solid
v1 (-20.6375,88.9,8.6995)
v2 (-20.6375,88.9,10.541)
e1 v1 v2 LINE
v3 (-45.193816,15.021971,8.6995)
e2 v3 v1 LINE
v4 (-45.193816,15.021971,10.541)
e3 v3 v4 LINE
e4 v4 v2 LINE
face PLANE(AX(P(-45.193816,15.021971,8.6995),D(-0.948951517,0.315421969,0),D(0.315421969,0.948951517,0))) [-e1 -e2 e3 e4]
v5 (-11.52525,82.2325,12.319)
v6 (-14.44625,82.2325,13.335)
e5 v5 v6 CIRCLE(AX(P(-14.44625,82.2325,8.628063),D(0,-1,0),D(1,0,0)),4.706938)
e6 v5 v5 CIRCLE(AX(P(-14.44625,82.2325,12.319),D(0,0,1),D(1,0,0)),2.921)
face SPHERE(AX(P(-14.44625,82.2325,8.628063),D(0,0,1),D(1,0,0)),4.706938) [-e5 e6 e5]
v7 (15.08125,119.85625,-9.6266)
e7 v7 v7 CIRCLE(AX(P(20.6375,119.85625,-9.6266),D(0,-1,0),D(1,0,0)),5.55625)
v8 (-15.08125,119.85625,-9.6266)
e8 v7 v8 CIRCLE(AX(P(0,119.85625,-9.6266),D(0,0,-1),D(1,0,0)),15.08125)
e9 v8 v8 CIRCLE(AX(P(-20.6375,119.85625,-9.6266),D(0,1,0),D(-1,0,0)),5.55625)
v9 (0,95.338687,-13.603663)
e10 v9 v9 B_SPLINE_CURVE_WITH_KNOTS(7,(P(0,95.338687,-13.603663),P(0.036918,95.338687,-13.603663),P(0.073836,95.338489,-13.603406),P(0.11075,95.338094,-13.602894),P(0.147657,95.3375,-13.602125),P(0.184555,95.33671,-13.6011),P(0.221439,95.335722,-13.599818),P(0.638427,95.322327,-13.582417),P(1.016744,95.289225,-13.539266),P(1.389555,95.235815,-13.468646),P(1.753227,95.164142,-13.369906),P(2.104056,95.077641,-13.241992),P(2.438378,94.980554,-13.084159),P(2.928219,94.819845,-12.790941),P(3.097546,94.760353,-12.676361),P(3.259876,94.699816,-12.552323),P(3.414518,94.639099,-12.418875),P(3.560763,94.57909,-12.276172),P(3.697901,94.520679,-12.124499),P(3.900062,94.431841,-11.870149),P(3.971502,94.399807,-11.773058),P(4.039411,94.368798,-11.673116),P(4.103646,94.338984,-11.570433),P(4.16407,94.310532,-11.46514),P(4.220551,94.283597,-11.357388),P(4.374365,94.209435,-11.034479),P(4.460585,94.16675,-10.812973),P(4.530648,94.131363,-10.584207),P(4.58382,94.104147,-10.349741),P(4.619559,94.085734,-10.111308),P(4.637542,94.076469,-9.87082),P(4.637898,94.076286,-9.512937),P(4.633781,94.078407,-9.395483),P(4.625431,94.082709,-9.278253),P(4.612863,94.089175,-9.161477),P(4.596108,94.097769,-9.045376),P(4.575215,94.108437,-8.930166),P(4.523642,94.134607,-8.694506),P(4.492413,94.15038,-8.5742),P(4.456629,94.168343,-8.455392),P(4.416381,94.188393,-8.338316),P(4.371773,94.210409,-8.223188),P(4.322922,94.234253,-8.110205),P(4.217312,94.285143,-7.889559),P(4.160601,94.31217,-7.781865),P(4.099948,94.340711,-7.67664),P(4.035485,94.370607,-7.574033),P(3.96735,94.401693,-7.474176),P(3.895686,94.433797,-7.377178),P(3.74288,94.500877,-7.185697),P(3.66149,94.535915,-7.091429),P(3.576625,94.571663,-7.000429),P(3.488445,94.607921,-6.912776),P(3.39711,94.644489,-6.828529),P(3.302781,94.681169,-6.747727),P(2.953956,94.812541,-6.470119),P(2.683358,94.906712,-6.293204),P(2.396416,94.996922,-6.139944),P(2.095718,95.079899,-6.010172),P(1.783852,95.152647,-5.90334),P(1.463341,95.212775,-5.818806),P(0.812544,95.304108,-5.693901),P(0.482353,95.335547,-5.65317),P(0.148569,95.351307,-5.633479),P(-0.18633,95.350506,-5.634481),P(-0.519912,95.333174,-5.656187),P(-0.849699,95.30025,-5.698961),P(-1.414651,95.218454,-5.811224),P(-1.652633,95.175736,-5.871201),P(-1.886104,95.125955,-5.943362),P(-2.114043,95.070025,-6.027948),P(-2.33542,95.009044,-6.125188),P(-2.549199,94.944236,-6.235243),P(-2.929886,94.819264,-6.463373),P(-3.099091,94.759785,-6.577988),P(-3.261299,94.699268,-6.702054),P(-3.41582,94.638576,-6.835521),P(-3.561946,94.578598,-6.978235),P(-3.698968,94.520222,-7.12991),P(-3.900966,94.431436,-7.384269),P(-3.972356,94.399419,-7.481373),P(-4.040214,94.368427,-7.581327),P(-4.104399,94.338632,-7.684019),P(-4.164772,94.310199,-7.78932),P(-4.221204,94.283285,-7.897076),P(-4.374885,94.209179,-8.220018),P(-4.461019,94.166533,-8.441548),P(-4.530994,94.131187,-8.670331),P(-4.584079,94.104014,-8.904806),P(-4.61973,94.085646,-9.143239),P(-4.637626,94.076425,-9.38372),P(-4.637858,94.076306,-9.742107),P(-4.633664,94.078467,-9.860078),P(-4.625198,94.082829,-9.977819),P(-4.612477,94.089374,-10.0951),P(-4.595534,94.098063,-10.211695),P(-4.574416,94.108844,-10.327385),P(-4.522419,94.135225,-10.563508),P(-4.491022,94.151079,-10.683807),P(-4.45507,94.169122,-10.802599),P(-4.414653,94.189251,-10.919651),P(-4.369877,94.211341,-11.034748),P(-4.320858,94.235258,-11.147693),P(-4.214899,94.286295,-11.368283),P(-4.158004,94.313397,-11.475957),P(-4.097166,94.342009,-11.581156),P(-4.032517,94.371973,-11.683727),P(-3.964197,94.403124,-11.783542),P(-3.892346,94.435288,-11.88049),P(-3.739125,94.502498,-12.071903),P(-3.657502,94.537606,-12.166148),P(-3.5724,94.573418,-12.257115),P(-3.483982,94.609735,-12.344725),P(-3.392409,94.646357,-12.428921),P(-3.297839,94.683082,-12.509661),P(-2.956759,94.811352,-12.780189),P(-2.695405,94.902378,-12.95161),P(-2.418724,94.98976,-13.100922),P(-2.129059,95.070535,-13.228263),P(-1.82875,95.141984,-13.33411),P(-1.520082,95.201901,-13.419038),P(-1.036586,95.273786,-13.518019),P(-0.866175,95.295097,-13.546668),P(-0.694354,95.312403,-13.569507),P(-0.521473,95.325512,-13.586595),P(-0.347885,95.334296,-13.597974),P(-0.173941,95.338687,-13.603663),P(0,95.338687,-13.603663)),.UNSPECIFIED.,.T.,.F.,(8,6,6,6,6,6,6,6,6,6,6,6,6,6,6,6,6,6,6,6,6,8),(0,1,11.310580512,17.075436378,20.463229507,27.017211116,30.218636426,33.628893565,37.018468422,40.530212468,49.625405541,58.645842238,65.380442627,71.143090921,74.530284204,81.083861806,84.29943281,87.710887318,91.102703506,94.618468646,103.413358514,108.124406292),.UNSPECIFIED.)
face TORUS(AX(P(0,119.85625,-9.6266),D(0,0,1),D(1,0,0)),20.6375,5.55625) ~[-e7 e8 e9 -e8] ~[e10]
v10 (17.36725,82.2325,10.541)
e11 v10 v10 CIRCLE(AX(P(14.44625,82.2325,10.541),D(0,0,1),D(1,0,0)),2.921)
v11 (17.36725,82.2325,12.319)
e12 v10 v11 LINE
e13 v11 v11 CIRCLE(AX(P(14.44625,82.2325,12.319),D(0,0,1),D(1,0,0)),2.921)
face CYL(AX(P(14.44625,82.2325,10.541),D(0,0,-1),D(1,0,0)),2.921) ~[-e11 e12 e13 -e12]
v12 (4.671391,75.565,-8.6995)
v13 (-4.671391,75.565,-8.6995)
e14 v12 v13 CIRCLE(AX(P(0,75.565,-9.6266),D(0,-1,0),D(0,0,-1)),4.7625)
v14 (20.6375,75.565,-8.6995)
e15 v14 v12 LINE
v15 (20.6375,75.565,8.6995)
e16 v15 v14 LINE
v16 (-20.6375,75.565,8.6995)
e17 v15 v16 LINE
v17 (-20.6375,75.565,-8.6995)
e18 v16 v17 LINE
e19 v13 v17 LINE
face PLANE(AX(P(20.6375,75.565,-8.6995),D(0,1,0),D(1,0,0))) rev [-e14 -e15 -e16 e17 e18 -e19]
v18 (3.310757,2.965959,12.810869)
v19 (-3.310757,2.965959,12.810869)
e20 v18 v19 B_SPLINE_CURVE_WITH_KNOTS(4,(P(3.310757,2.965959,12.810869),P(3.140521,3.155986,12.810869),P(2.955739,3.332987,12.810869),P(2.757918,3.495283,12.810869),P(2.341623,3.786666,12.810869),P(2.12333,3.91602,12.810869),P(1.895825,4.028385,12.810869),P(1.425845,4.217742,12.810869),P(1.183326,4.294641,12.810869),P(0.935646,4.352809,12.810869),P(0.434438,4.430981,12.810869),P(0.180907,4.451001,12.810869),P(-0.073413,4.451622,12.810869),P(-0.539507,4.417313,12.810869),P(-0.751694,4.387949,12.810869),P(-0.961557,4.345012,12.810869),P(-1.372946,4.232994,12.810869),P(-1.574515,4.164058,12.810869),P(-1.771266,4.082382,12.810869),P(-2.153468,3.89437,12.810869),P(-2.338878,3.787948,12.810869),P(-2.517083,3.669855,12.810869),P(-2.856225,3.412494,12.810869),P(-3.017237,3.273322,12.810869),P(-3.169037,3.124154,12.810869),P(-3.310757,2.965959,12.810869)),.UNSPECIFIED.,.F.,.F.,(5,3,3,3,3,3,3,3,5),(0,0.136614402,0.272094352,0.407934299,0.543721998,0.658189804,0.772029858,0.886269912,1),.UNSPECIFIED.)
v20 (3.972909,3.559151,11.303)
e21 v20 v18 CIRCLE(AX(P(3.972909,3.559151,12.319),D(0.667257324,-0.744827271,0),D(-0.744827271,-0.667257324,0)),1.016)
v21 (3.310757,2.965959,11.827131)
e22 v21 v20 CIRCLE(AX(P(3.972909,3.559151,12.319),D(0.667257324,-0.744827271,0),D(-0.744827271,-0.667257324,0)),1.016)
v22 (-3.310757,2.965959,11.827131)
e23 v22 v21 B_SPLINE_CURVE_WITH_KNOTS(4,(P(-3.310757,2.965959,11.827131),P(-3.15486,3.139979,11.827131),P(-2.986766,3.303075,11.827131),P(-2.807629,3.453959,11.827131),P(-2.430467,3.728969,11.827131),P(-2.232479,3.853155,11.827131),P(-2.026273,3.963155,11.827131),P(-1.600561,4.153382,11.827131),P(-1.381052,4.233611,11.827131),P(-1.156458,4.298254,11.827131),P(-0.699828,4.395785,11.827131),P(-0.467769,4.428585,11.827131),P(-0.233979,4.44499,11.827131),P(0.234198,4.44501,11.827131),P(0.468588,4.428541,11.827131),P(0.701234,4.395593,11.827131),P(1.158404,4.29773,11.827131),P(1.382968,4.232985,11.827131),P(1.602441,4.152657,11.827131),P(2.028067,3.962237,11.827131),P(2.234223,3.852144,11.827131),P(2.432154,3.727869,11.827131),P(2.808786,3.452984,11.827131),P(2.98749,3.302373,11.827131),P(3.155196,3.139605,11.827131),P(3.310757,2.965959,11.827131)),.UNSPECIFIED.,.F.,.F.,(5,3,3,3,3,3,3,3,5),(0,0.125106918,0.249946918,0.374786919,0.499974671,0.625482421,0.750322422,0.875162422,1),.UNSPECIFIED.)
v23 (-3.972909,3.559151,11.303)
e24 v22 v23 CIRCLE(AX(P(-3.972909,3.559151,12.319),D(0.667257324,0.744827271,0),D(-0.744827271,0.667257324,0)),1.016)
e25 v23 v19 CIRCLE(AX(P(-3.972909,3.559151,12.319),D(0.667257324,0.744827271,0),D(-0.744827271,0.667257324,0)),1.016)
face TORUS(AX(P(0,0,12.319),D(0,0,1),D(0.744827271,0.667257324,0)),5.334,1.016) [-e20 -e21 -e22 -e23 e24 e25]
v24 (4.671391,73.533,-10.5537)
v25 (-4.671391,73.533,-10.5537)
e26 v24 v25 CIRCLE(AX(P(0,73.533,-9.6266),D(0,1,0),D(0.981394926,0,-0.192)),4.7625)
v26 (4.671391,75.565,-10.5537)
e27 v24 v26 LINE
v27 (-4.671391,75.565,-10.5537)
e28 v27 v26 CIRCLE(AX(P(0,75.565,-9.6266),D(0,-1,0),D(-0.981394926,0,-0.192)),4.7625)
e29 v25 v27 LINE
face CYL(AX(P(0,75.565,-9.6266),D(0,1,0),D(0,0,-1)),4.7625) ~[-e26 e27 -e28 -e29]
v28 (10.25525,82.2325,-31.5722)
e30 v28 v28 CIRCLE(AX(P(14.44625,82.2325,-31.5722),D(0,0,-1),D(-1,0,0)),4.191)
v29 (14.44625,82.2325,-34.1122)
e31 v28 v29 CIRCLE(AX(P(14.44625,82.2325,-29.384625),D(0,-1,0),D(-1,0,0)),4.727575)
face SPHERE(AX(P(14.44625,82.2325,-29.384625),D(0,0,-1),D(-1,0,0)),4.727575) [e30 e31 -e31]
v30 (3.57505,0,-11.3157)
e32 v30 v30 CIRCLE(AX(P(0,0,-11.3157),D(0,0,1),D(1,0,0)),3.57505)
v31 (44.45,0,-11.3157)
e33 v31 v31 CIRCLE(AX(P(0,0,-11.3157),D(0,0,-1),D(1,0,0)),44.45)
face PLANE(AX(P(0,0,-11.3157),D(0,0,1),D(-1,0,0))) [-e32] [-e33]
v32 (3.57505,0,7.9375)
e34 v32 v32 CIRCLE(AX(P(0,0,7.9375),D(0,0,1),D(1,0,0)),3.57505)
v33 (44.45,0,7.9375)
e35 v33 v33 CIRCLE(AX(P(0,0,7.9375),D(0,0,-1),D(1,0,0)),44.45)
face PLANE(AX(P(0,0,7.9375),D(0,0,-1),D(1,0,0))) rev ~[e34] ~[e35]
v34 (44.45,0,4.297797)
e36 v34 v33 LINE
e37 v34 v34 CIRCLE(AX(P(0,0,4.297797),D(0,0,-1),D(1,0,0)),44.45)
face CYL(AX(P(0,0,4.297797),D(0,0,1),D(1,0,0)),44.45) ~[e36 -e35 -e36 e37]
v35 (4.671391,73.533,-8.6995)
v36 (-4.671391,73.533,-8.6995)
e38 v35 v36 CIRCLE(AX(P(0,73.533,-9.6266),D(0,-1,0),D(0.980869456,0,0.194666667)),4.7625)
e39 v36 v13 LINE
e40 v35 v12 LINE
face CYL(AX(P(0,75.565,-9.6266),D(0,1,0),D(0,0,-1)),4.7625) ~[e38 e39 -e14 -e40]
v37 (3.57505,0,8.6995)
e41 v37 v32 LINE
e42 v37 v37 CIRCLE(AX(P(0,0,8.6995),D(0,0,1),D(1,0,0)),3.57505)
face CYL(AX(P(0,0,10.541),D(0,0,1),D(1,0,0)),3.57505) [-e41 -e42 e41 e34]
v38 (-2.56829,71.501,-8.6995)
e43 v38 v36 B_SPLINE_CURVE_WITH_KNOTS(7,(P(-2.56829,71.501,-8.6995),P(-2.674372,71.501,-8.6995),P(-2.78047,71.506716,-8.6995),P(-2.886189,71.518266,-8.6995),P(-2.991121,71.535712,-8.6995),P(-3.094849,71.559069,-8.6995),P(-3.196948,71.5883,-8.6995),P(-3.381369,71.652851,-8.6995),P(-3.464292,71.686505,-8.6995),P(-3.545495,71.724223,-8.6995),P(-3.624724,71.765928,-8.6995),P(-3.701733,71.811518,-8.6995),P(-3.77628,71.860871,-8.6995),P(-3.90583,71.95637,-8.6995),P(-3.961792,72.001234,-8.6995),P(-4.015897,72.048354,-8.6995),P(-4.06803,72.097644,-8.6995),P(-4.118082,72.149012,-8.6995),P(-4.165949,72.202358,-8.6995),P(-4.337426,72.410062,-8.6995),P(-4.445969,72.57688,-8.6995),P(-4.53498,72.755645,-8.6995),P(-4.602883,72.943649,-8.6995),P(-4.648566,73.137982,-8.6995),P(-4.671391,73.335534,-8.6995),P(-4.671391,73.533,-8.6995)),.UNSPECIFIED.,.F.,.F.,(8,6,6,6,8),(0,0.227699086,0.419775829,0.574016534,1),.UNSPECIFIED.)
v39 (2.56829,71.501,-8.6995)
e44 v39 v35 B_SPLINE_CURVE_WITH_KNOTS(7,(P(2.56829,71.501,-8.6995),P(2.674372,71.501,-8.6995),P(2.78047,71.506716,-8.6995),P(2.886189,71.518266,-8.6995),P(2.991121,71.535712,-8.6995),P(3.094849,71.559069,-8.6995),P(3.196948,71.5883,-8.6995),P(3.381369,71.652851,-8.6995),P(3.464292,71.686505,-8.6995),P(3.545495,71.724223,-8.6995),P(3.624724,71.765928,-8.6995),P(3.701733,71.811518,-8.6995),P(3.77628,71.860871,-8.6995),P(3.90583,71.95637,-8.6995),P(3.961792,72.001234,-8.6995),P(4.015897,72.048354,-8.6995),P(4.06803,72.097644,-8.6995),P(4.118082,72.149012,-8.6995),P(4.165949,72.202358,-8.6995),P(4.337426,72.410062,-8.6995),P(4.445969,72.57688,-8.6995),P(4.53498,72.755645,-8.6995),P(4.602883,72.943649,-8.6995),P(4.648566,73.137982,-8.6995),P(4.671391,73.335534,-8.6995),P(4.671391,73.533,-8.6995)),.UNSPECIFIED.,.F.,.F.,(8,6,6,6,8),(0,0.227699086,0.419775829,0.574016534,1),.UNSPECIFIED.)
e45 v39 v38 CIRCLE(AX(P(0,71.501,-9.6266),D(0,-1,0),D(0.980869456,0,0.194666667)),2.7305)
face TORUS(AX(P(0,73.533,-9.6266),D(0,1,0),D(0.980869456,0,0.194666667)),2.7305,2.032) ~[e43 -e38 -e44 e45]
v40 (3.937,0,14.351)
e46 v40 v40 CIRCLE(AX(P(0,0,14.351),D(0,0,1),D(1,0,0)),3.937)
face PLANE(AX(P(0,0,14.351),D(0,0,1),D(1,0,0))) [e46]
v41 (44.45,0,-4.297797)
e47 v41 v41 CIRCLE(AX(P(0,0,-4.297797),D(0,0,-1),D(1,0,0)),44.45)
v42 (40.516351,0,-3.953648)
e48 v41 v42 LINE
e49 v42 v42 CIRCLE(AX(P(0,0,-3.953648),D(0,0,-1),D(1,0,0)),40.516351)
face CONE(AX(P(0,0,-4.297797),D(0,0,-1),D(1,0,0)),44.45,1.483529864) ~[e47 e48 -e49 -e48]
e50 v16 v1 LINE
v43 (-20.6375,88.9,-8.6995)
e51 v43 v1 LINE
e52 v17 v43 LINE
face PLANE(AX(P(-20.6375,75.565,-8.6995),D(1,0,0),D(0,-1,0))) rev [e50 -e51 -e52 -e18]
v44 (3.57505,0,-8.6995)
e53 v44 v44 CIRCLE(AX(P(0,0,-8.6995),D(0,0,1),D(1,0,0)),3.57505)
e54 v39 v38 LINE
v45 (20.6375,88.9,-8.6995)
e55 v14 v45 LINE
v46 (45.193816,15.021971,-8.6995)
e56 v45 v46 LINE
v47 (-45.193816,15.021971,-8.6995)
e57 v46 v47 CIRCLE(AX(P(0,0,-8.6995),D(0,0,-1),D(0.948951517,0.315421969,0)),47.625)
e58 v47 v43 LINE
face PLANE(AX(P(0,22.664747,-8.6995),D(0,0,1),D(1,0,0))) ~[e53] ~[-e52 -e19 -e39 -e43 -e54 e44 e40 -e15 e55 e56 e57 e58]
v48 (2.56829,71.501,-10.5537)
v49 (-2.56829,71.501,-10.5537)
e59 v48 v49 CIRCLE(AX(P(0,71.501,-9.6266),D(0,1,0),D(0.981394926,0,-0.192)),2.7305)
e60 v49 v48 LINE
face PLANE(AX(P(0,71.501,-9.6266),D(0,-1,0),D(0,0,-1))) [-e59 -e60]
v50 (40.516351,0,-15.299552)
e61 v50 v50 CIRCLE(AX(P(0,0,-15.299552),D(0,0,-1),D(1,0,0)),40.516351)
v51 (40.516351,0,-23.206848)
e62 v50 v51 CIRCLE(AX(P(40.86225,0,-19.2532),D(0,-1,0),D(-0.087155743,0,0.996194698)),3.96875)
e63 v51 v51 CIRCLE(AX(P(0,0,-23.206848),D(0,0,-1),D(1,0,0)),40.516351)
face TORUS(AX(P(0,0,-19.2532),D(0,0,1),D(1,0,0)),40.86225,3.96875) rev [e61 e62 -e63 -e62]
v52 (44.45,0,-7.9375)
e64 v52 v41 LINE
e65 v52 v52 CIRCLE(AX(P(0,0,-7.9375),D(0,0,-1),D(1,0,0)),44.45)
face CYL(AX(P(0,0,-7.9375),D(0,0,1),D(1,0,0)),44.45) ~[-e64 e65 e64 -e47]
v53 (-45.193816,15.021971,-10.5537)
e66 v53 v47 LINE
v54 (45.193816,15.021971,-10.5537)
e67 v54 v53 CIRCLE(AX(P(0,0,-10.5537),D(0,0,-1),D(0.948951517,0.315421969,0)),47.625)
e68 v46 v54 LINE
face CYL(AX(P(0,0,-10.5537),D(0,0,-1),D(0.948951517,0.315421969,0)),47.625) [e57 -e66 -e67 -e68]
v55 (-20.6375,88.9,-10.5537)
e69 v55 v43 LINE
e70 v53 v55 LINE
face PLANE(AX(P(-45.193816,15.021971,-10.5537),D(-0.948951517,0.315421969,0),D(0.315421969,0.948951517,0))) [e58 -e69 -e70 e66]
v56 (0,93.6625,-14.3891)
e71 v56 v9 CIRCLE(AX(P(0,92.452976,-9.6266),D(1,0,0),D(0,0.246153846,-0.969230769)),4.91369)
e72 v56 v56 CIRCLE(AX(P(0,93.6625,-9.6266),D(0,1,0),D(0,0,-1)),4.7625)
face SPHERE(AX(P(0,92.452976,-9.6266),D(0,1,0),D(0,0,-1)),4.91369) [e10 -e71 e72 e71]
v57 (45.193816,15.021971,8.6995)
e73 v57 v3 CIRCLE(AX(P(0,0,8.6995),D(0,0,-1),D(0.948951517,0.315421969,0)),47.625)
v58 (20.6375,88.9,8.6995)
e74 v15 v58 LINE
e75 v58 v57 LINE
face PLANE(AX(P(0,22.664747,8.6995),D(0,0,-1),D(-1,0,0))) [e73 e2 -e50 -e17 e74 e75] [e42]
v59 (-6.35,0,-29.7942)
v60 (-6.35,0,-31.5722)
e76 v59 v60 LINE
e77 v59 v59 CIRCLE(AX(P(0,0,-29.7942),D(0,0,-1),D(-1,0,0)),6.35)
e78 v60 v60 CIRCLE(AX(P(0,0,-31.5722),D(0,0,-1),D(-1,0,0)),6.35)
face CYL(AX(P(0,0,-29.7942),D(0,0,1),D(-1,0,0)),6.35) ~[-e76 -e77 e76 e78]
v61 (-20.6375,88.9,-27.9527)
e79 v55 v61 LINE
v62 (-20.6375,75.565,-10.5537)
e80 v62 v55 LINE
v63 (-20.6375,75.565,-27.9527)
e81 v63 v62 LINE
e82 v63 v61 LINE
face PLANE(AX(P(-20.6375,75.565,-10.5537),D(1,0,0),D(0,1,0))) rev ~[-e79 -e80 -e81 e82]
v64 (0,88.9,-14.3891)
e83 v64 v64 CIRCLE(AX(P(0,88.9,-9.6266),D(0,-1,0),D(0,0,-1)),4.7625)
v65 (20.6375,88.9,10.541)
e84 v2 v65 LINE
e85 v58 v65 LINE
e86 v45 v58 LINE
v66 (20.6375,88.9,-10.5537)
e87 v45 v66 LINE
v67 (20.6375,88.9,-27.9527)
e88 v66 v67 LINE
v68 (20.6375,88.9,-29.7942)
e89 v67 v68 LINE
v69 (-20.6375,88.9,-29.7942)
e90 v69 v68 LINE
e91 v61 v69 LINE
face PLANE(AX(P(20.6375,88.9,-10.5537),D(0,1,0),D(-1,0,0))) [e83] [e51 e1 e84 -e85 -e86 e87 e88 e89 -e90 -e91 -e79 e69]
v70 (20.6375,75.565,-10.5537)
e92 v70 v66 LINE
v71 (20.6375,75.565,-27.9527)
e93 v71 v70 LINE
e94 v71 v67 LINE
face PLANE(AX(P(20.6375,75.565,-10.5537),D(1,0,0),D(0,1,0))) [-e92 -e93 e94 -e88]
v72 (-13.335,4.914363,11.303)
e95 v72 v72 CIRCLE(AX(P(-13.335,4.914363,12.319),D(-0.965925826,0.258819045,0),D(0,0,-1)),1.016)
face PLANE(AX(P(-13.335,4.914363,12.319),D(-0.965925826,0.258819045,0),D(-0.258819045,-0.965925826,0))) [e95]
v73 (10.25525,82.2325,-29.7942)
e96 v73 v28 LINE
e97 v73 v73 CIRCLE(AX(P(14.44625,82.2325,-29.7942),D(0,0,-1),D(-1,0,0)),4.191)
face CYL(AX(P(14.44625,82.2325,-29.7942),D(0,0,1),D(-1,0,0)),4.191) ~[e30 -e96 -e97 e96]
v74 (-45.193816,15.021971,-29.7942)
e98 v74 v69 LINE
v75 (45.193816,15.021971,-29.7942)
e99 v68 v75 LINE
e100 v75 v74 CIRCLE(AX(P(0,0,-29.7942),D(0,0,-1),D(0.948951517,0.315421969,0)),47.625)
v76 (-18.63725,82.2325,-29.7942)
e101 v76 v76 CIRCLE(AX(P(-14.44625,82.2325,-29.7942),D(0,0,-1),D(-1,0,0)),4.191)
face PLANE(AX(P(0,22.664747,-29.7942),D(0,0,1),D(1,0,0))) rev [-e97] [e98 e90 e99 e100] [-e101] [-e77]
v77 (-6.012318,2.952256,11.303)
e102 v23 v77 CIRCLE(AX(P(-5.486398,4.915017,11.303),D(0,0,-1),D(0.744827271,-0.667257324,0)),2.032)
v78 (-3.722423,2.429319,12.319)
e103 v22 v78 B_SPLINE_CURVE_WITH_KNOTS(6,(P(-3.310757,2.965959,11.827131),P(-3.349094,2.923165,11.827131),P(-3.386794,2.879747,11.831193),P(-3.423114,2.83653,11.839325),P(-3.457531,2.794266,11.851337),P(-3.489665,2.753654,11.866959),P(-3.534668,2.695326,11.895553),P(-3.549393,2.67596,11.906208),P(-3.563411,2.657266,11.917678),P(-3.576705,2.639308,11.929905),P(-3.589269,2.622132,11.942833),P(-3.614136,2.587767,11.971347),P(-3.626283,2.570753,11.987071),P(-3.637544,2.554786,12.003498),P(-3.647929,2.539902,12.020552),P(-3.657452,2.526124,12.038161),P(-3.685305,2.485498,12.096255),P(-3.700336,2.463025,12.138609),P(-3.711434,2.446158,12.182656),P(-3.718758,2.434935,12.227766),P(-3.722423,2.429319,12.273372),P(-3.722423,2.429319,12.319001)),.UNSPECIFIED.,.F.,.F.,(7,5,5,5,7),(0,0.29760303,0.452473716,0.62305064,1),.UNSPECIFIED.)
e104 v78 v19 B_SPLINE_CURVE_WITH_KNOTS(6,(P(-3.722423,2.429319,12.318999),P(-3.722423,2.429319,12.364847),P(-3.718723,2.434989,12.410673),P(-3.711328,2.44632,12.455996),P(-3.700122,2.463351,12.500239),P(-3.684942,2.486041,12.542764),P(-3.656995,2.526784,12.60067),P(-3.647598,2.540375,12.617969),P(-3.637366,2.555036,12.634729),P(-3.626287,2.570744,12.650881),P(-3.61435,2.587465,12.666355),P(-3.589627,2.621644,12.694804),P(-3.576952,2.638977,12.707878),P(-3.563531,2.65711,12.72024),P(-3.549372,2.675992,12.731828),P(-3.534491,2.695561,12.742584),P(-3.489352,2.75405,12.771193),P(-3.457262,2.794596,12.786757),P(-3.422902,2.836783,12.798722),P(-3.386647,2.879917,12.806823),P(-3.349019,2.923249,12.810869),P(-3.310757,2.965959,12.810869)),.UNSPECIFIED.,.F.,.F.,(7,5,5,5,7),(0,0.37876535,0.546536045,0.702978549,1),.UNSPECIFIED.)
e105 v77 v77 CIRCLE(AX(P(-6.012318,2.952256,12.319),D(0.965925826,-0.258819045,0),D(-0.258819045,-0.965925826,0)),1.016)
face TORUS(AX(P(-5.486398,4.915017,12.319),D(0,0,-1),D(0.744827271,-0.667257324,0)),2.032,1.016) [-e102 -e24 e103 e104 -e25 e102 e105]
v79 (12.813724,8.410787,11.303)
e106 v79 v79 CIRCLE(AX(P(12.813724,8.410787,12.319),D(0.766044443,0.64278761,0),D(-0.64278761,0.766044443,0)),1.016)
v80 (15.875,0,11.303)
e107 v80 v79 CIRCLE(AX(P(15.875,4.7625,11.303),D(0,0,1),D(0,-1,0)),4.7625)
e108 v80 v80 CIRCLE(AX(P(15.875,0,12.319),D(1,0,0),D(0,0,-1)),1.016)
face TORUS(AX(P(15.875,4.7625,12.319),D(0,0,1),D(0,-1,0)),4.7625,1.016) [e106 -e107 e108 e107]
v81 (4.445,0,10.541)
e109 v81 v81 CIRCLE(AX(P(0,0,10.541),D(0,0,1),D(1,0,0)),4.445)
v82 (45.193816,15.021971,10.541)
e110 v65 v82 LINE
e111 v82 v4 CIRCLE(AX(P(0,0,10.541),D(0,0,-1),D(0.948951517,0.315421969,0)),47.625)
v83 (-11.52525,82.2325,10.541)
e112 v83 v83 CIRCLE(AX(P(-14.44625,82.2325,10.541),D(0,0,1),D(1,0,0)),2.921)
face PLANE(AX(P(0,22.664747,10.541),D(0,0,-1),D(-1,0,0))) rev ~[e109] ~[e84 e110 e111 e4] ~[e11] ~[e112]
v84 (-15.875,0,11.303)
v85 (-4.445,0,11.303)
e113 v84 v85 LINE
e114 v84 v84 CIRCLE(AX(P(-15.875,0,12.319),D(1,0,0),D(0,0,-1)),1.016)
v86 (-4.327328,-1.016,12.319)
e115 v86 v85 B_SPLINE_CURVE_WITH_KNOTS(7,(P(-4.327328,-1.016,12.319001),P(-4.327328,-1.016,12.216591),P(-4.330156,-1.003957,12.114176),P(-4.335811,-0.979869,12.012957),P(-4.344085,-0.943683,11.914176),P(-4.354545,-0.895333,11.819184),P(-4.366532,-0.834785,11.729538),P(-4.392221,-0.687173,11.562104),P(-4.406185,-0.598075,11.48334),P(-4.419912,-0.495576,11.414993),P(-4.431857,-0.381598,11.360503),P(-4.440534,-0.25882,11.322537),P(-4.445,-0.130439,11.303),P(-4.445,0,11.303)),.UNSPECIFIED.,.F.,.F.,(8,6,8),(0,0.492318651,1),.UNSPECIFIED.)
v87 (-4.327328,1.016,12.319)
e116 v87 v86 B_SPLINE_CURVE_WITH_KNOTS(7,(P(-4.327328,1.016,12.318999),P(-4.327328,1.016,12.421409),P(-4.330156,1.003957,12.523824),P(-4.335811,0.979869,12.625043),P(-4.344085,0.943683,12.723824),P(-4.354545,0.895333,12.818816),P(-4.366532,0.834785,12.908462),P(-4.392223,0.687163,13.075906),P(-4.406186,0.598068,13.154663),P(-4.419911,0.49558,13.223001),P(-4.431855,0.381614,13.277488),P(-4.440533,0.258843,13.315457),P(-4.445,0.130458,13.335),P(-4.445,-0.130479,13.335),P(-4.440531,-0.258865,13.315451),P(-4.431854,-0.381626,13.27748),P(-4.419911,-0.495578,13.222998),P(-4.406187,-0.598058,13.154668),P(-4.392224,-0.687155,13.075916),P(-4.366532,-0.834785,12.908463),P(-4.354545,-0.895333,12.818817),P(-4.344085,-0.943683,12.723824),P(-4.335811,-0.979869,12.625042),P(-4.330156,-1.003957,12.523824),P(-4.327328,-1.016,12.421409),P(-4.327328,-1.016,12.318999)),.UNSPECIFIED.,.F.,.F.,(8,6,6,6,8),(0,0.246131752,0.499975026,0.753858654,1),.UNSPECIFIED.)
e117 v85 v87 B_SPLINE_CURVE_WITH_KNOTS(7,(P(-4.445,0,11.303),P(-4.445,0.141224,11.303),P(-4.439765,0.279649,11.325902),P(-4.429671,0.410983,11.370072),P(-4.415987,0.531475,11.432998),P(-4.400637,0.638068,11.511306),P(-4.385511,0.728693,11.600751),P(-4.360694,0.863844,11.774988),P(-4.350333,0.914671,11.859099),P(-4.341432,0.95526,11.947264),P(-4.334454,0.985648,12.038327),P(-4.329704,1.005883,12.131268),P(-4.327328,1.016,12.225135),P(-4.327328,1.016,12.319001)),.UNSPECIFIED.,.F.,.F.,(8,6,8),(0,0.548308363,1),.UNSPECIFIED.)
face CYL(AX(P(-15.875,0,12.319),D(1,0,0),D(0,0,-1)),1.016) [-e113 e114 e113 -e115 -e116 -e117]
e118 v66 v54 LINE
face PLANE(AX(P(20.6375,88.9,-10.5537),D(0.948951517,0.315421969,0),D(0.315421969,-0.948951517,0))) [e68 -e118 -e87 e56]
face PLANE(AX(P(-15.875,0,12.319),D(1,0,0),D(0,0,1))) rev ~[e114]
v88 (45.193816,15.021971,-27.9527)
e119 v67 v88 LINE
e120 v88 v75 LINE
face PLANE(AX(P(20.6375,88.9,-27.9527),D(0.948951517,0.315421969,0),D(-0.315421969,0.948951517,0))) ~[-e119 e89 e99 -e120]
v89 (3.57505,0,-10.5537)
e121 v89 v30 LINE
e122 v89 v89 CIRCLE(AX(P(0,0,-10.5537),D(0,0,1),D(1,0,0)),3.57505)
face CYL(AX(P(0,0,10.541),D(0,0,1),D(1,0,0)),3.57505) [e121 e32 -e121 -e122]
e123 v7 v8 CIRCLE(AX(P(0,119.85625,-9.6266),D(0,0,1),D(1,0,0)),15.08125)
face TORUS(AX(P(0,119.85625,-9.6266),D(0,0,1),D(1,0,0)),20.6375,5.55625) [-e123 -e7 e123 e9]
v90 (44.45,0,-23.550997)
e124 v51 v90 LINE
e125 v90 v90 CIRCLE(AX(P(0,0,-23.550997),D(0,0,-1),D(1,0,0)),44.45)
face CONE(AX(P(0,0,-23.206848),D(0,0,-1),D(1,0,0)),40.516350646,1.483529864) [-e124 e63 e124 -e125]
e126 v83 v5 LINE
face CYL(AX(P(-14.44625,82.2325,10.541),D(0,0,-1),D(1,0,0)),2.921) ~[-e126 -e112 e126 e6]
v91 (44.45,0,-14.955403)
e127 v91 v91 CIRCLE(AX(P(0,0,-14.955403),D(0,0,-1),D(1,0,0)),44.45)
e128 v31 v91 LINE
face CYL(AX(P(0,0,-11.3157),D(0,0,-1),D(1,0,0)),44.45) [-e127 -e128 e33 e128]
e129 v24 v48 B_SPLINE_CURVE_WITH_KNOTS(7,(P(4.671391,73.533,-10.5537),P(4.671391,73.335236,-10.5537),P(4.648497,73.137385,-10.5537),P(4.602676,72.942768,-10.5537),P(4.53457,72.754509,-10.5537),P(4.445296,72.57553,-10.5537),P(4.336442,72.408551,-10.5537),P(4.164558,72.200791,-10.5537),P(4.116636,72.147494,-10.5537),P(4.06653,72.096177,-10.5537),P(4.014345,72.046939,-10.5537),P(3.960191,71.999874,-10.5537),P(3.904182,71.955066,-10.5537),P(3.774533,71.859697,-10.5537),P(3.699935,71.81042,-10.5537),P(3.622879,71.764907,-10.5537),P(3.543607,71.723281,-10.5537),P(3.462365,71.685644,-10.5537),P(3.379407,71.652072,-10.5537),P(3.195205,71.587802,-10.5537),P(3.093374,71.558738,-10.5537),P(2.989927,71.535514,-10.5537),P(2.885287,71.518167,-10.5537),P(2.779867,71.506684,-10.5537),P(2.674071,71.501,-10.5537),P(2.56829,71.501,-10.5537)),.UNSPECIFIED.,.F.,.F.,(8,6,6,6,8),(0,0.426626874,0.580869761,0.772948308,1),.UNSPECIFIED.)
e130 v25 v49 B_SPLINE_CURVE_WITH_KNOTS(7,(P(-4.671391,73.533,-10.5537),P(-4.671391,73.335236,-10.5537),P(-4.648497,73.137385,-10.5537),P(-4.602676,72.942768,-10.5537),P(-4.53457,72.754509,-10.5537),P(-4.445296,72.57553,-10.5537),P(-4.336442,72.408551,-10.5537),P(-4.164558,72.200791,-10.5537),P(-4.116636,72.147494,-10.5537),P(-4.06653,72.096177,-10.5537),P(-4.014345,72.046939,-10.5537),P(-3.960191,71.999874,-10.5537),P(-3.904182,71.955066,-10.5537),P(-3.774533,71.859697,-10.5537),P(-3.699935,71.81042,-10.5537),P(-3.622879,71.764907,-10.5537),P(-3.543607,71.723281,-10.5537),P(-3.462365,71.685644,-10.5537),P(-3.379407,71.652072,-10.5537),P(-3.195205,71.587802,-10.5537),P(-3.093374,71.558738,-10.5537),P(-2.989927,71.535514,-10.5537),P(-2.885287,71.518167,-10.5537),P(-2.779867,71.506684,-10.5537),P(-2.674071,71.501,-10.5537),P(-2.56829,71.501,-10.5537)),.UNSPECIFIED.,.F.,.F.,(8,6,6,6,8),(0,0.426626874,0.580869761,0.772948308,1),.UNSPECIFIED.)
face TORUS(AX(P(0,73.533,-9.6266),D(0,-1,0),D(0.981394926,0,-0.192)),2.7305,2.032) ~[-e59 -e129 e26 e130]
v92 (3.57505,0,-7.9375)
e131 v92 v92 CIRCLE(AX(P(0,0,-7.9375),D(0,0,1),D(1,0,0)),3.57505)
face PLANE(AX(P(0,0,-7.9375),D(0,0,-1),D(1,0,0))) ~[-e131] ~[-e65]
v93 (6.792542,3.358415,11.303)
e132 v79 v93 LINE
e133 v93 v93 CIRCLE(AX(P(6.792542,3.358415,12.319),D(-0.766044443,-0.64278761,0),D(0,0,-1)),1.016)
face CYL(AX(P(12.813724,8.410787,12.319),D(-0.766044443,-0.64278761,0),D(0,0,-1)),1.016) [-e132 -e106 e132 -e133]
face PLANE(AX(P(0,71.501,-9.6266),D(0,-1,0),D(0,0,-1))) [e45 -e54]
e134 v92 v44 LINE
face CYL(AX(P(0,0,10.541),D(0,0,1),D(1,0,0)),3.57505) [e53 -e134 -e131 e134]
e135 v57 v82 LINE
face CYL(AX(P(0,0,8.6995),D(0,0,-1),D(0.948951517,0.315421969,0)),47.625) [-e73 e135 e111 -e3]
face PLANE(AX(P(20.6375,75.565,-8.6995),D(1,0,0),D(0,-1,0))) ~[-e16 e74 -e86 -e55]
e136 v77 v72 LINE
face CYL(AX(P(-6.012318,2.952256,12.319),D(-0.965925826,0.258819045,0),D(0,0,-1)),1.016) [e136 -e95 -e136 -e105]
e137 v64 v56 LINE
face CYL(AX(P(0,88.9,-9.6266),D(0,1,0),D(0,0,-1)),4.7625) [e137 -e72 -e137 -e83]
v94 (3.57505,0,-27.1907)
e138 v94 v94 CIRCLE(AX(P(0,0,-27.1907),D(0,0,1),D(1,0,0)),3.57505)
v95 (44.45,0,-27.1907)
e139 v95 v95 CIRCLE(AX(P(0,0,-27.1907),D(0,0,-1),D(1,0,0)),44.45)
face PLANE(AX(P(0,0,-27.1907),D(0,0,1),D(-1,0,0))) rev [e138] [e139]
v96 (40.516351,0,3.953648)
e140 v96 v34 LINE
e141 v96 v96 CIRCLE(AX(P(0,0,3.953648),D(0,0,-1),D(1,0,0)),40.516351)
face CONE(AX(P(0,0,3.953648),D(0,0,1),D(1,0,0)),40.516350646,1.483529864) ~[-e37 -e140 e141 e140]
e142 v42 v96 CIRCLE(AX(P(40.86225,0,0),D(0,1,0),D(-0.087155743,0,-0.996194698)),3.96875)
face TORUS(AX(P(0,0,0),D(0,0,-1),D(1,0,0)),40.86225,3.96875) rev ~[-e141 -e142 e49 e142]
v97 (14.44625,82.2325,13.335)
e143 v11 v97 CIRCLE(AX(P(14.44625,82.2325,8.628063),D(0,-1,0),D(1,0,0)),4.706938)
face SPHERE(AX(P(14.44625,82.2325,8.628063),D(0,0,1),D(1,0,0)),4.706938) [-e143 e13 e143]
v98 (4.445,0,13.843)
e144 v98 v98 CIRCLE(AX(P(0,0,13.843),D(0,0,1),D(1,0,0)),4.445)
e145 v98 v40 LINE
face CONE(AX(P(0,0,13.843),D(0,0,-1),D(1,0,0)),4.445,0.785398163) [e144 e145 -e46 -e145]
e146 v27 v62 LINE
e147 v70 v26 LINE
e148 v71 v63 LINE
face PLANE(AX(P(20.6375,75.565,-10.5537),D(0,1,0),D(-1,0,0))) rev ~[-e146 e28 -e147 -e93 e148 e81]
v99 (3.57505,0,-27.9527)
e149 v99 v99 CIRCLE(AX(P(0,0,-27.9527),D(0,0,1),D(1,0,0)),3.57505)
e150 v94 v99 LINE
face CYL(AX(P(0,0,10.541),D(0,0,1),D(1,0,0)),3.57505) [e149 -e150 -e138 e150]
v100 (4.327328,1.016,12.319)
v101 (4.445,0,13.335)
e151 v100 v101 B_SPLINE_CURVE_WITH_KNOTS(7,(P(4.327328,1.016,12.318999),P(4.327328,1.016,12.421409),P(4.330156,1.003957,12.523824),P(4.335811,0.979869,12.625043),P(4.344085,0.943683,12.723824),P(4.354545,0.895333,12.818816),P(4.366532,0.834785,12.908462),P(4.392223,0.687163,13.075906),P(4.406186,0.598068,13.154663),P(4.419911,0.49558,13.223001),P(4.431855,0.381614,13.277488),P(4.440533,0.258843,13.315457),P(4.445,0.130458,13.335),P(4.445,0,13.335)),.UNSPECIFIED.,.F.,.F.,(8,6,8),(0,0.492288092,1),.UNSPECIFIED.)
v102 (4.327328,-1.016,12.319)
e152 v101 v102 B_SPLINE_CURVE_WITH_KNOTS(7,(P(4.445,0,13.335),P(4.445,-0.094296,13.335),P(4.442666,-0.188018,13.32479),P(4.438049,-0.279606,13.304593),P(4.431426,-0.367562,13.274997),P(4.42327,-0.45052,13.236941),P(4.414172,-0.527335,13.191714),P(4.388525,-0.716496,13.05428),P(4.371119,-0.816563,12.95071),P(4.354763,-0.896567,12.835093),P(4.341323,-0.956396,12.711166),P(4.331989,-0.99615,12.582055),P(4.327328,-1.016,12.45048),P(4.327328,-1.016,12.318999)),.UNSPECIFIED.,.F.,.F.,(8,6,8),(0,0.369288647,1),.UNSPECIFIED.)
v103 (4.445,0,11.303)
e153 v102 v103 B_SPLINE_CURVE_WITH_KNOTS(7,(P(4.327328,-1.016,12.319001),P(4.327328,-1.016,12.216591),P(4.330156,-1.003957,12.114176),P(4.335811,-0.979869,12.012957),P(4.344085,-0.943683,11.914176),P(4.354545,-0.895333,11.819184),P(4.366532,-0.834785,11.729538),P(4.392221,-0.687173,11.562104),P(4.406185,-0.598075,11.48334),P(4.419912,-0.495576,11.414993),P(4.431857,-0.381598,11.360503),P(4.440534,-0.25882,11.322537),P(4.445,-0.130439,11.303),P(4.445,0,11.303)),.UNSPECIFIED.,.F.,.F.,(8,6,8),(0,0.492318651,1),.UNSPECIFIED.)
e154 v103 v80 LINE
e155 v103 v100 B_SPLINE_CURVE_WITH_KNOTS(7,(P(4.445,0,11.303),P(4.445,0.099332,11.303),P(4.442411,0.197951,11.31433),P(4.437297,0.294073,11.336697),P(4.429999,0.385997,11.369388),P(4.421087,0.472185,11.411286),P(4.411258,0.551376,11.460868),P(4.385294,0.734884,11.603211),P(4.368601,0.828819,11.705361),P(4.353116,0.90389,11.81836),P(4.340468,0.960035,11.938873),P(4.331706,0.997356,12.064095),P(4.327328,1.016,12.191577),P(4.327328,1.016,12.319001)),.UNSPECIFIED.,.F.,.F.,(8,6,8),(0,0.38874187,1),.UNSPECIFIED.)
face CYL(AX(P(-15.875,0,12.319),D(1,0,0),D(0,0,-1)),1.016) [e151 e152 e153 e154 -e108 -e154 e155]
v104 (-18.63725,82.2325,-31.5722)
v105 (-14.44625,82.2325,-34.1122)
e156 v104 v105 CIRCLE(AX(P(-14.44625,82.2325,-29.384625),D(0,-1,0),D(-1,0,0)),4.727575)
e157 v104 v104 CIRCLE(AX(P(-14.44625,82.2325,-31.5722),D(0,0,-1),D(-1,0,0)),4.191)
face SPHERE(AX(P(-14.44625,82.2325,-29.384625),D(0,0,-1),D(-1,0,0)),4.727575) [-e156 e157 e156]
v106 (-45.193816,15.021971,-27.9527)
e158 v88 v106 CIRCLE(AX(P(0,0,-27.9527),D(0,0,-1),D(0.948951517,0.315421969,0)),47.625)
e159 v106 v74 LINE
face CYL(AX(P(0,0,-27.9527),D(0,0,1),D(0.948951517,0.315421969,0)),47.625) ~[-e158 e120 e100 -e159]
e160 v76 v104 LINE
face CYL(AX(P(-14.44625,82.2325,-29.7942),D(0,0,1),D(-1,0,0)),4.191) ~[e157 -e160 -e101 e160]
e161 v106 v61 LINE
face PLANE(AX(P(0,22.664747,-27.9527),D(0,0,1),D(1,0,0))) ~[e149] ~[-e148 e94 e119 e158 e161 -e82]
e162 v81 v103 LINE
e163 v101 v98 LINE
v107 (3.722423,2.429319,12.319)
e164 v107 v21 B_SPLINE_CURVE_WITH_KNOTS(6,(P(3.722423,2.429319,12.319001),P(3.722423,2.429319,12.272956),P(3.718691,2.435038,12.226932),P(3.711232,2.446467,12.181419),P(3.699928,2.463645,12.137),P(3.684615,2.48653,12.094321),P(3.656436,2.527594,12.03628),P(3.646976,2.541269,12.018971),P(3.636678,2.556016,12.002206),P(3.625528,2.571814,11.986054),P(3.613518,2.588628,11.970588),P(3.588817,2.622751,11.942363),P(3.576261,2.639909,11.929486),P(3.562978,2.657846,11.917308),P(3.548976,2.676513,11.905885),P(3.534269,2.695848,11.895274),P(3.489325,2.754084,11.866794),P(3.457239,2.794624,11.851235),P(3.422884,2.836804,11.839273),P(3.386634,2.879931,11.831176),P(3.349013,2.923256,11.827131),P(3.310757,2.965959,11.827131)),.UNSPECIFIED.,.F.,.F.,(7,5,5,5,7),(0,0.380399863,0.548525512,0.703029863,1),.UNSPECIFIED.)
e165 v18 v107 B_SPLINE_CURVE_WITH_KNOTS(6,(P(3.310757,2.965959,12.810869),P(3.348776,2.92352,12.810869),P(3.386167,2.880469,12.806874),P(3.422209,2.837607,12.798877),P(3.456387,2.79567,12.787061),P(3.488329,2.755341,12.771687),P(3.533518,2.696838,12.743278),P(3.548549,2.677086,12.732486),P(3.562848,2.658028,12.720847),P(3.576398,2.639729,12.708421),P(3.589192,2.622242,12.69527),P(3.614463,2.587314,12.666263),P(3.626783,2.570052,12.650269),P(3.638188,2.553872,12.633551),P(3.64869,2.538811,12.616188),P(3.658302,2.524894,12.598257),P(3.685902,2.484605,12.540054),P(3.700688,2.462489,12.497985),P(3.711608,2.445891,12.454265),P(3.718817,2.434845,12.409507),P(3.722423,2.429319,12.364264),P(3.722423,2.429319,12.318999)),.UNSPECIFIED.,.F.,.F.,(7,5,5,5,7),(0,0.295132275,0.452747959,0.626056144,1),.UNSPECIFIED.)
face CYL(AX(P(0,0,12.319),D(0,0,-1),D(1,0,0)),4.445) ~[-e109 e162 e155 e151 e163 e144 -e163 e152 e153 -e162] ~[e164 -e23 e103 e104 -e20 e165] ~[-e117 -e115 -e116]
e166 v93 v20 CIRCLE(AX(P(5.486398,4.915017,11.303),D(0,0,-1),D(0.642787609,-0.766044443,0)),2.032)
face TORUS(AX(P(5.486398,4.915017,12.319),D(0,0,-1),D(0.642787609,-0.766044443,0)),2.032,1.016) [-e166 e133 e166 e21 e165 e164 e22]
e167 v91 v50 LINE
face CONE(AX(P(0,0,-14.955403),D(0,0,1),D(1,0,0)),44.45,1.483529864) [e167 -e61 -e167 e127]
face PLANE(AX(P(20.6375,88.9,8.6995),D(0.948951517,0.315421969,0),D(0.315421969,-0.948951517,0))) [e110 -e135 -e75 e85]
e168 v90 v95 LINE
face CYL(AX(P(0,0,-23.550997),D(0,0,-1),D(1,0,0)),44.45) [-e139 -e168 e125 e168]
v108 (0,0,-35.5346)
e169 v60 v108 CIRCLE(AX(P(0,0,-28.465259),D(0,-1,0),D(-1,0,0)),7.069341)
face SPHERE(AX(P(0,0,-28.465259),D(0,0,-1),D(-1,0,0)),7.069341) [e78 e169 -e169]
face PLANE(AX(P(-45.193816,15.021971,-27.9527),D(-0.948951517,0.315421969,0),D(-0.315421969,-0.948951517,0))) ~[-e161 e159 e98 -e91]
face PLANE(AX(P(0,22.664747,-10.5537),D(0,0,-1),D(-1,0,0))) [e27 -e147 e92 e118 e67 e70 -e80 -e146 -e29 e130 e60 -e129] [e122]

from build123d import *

# Parameters (mm, degrees)
BOSS_EXTRUDE1_DEPTH   = 1.8415
SKETCH5_W             = 41.275
SKETCH5_H             = 13.335
BOSS_EXTRUDE2_DEPTH   = 8.6995
SKETCH10_R            = 5.55625
SKETCH6_R             = 4.445
SKETCH6_R_2           = 2.921
BOSS_EXTRUDE3_DEPTH   = 1.778
DOME1_FACE_RADIUS     = 2.921
DOME1_HEIGHT          = 1.016
DOME3_FACE_RADIUS     = 2.921
DOME3_HEIGHT          = 1.016
SKETCH8_R             = 4.191
BOSS_EXTRUDE4_DEPTH   = 1.778
BOSS_EXTRUDE4_2_DEPTH = 1.778
SKETCH8_R_2           = 6.35
BOSS_EXTRUDE4_3_DEPTH = 1.778
DOME5_FACE_RADIUS     = 4.191
DOME5_HEIGHT          = 2.54
DOME6_FACE_RADIUS     = 4.191
DOME6_HEIGHT          = 2.54
DOME7_FACE_RADIUS     = 6.35
DOME7_HEIGHT          = 3.9624
BOSS_EXTRUDE5_REACH   = 162.38
SKETCH9_R             = 3.57505
SKETCH15_R            = 4.7625
BOSS_EXTRUDE6_DEPTH   = 4.064
FILLET1_R             = 2.032
SKETCH17_R            = 1.016
SKETCH18_R            = 4.445
BOSS_EXTRUDE7_DEPTH   = 2.032
CHAMFER1_SIZE         = 0.508


with BuildPart() as part:
    # Sketch3 → Revolve1 (revolve)
    with BuildSketch(Plane(origin=(0, 0, 0), x_dir=(0, 0, -1), z_dir=(1, 0, 0)), mode=Mode.PRIVATE) as revolve1_sk:
        with BuildLine():
            Line((-7.9375, 44.45), (-7.9375, 0))
            Line((-7.9375, 0), (7.9375, 0))
            Line((7.9375, 0), (7.9375, 44.45))
            Line((7.9375, 44.45), (4.297797433, 44.45))
            Line((4.297797433, 44.45), (3.953647708, 40.516350646))
            ThreePointArc((3.953647708, 40.516350646), (0, 36.8935), (-3.953647708, 40.516350646))
            Line((-3.953647708, 40.516350646), (-4.297797433, 44.45))
            Line((-4.297797433, 44.45), (-7.9375, 44.45))
        make_face()
    revolve(revolve1_sk.sketch.rotate(Axis((0, 0, 7.9375), (0, 0, -1)), 90), axis=Axis((0, 0, 7.9375), (0, 0, -1)))


with BuildPart() as body_2:
    # Sketch4 → Boss-Extrude1 (new body)
    with BuildSketch(Plane.XY.offset(8.6995)):
        with BuildLine():
            Line((-20.6375, 88.9), (20.6375, 88.9))
            Line((20.6375, 88.9), (45.193815989, 15.021971288))
            ThreePointArc((45.193815989, 15.021971288), (0, -47.625), (-45.193815989, 15.021971288))
            Line((-45.193815989, 15.021971288), (-20.6375, 88.9))
        make_face()
    extrude(amount=BOSS_EXTRUDE1_DEPTH)

    # Sketch5 → Boss-Extrude2 (add)
    with BuildSketch(Plane(origin=(0, 0, 8.6995), x_dir=(-1, 0, 0), z_dir=(0, 0, -1))):
        with Locations((0, 82.2325)):
            Rectangle(SKETCH5_W, SKETCH5_H)
    extrude(amount=BOSS_EXTRUDE2_DEPTH)

    # Mirror1: body 2 across plane


with BuildPart() as body_2_1:
    add(body_2.part)
    add(body_2.part.mirror(Plane.XY))


with BuildPart() as body_3:
    # Mirror8: mirrored copy
    add(part.part.mirror(Plane(origin=(0, 0, -9.6266), x_dir=(1, 0, 0), z_dir=(0, 0, -1))))


with BuildPart() as body_4:
    # Mirror8 2: mirrored copy
    add(body_2_1.part.mirror(Plane(origin=(0, 0, -9.6266), x_dir=(1, 0, 0), z_dir=(0, 0, -1))))


with BuildPart() as body_5:
    # Sweep2: sweep along a path in Sketch11
    with BuildLine(Plane.XY.offset(-9.6266)) as sweep2_path:
        ThreePointArc((20.6375, 119.85625), (0, 140.49375), (-20.6375, 119.85625))
    # Sketch10 → Sweep2 (sweep)
    with BuildSketch(Plane(origin=(0, 119.85625, 0), x_dir=(-1, 0, 0), z_dir=(0, 1, 0))):
        with Locations((-20.6375, -9.6266)):
            Circle(SKETCH10_R)
    sweep(path=sweep2_path.line)

    # Mirror7: body 5 across plane


with BuildPart() as body_5_1:
    add(body_5.part)
    add(body_5.part.mirror(Plane(origin=(20.6375, 119.85625, -9.6266), x_dir=(0, 0, 1), z_dir=(0, 1, 0))))

    # Sketch14 → Revolve2 (revolve)
    with BuildSketch(Plane.XY.offset(-9.6266), mode=Mode.PRIVATE) as revolve2_sk:
        with BuildLine():
            Line((4.7625, 88.9), (4.7625, 93.6625))
            ThreePointArc((4.7625, 93.6625), (3.016714146, 96.331608663), (0, 97.366666667))
            Line((0, 97.366666667), (0, 88.9))
            Line((0, 88.9), (4.7625, 88.9))
        make_face()
    revolve(revolve2_sk.sketch.rotate(Axis((0, 53.18125, -9.6266), (0, 1, 0)), 90), axis=Axis((0, 53.18125, -9.6266), (0, 1, 0)))


with BuildPart() as body_2_2:
    add(body_2_1.part)

    # Sketch6 → Boss-Extrude3 (add)
    with BuildSketch(Plane.XY.offset(10.541)):
        Circle(SKETCH6_R)
        with Locations((-14.44625, 82.2325)):
            Circle(SKETCH6_R_2)
        with Locations((14.44625, 82.2325)):
            Circle(SKETCH6_R_2)
    extrude(amount=BOSS_EXTRUDE3_DEPTH)

    # Dome1: a dome of height H over a round flat face of radius A is a cap of a sphere of radius (A * A + H * H) / (2 * H)
    dome1_r = (DOME1_FACE_RADIUS * DOME1_FACE_RADIUS + DOME1_HEIGHT * DOME1_HEIGHT) / (2 * DOME1_HEIGHT)
    dome1_base = Plane((-14.44625, 82.2325, 12.319), z_dir=(0, 0, 1))
    with Locations(dome1_base.offset(DOME1_HEIGHT - dome1_r)):
        dome1_ball = Sphere(dome1_r, mode=Mode.PRIVATE)
    add(split(dome1_ball, bisect_by=dome1_base, keep=Keep.TOP, mode=Mode.PRIVATE))

    # Dome3: a dome of height H over a round flat face of radius A is a cap of a sphere of radius (A * A + H * H) / (2 * H)
    dome3_r = (DOME3_FACE_RADIUS * DOME3_FACE_RADIUS + DOME3_HEIGHT * DOME3_HEIGHT) / (2 * DOME3_HEIGHT)
    dome3_base = Plane((14.44625, 82.2325, 12.319), z_dir=(0, 0, 1))
    with Locations(dome3_base.offset(DOME3_HEIGHT - dome3_r)):
        dome3_ball = Sphere(dome3_r, mode=Mode.PRIVATE)
    add(split(dome3_ball, bisect_by=dome3_base, keep=Keep.TOP, mode=Mode.PRIVATE))


with BuildPart() as body_6:
    # Sketch8 → Boss-Extrude4 (new body)
    with BuildSketch(Plane(origin=(0, 0, -29.7942), x_dir=(-1, 0, 0), z_dir=(0, 0, -1))):
        with Locations((-14.44625, 82.2325)):
            Circle(SKETCH8_R)
    extrude(amount=BOSS_EXTRUDE4_DEPTH)

    # Dome5: a dome of height H over a round flat face of radius A is a cap of a sphere of radius (A * A + H * H) / (2 * H)
    dome5_r = (DOME5_FACE_RADIUS * DOME5_FACE_RADIUS + DOME5_HEIGHT * DOME5_HEIGHT) / (2 * DOME5_HEIGHT)
    dome5_base = Plane((14.44625, 82.2325, -31.5722), z_dir=(0, 0, -1))
    with Locations(dome5_base.offset(DOME5_HEIGHT - dome5_r)):
        dome5_ball = Sphere(dome5_r, mode=Mode.PRIVATE)
    add(split(dome5_ball, bisect_by=dome5_base, keep=Keep.TOP, mode=Mode.PRIVATE))


with BuildPart() as body_7:
    # Sketch8 → Boss-Extrude4 2 (new body)
    with BuildSketch(Plane(origin=(0, 0, -29.7942), x_dir=(-1, 0, 0), z_dir=(0, 0, -1))):
        with Locations((14.44625, 82.2325)):
            Circle(SKETCH8_R)
    extrude(amount=BOSS_EXTRUDE4_2_DEPTH)

    # Dome6: a dome of height H over a round flat face of radius A is a cap of a sphere of radius (A * A + H * H) / (2 * H)
    dome6_r = (DOME6_FACE_RADIUS * DOME6_FACE_RADIUS + DOME6_HEIGHT * DOME6_HEIGHT) / (2 * DOME6_HEIGHT)
    dome6_base = Plane((-14.44625, 82.2325, -31.5722), z_dir=(0, 0, -1))
    with Locations(dome6_base.offset(DOME6_HEIGHT - dome6_r)):
        dome6_ball = Sphere(dome6_r, mode=Mode.PRIVATE)
    add(split(dome6_ball, bisect_by=dome6_base, keep=Keep.TOP, mode=Mode.PRIVATE))


with BuildPart() as body_8:
    # Sketch8 → Boss-Extrude4 3 (new body)
    with BuildSketch(Plane(origin=(0, 0, -29.7942), x_dir=(-1, 0, 0), z_dir=(0, 0, -1))):
        Circle(SKETCH8_R_2)
    extrude(amount=BOSS_EXTRUDE4_3_DEPTH)

    # Dome7: a dome of height H over a round flat face of radius A is a cap of a sphere of radius (A * A + H * H) / (2 * H)
    dome7_r = (DOME7_FACE_RADIUS * DOME7_FACE_RADIUS + DOME7_HEIGHT * DOME7_HEIGHT) / (2 * DOME7_HEIGHT)
    dome7_base = Plane((0, 0, -31.5722), z_dir=(0, 0, -1))
    with Locations(dome7_base.offset(DOME7_HEIGHT - dome7_r)):
        dome7_ball = Sphere(dome7_r, mode=Mode.PRIVATE)
    add(split(dome7_ball, bisect_by=dome7_base, keep=Keep.TOP, mode=Mode.PRIVATE))


with BuildPart() as part_1:
    add(part.part)

    # Boss-Extrude5: up to this face of the body (flat: up to its plane)
    boss_extrude5_end = Plane(body_4.part.faces().sort_by_distance((0, 17.170238389, -29.7942))[0])
    # Sketch9 → Boss-Extrude5 (add, up to the picked face)
    with BuildSketch(Plane.XY.offset(10.541), mode=Mode.PRIVATE) as boss_extrude5_sk1:
        Circle(SKETCH9_R)
    boss_extrude5_tool1 = split(extrude(boss_extrude5_sk1.sketch, amount=-BOSS_EXTRUDE5_REACH, mode=Mode.PRIVATE), bisect_by=boss_extrude5_end, keep=Keep.BOTH, mode=Mode.PRIVATE)

    add(body_2_2.part)  # Boss-Extrude5 merges body 2
    add(boss_extrude5_tool1.solids().sort_by(Axis((0, 0, 10.541), (0, 0, -1)))[0])

    # Combine1: union body 5
    add(body_5_1.part)

    # Sketch15 → Boss-Extrude6 (add)
    with BuildSketch(Plane.XZ.offset(-75.565)):
        with Locations(Location((0, -9.6266, 0), (0, 0, 270))):
            Circle(SKETCH15_R)
    extrude(amount=BOSS_EXTRUDE6_DEPTH)

    # Fillet1
    fillet1_edges = [part_1.edges().sort_by_distance(p)[0] for p in [
        (0, 71.501, -4.8641),
        (0, 71.501, -14.3891),
    ]]
    fillet(fillet1_edges, radius=FILLET1_R)

    # Sweep3: sweep along a path in Sketch16
    with BuildLine(Plane.XY.offset(12.319)) as sweep3_path:
        Line((-15.875, 0), (15.875, 0))
        ThreePointArc((15.875, 0), (20.350286106, 6.391370933), (12.813724009, 8.41078666))
        Line((12.813724009, 8.41078666), (6.7925421, 3.358415141))
        ThreePointArc((6.7925421, 3.358415141), (5.342100682, 2.888147356), (3.972908663, 3.559150567))
        ThreePointArc((3.972908663, 3.559150567), (0, 5.334), (-3.972908663, 3.559150567))
        ThreePointArc((-3.972908663, 3.559150567), (-4.906826117, 2.967423856), (-6.012317977, 2.952256171))
        Line((-6.012317977, 2.952256171), (-13.335, 4.914362905))
    # Sketch17 → Sweep3 (sweep)
    with BuildSketch(Plane(origin=(-15.875, 0, 0), x_dir=(0, 0, -1), z_dir=(1, 0, 0))):
        with Locations((-12.319, 0)):
            Circle(SKETCH17_R)
    sweep(path=sweep3_path.line)

    # Sketch18 → Boss-Extrude7 (add)
    with BuildSketch(Plane.XY.offset(12.319)):
        Circle(SKETCH18_R)
    extrude(amount=BOSS_EXTRUDE7_DEPTH)

    # Chamfer1
    chamfer1_edges = [part_1.edges().sort_by_distance(p)[0] for p in [
        (-4.445, 0, 14.351),
    ]]
    chamfer(chamfer1_edges, length=CHAMFER1_SIZE)

    # Combine2: union body 8, body 7, body 6, body 4, body 3
    add(body_8.part)
    add(body_7.part)
    add(body_6.part)
    add(body_4.part)
    add(body_3.part)


solid = part_1.part
